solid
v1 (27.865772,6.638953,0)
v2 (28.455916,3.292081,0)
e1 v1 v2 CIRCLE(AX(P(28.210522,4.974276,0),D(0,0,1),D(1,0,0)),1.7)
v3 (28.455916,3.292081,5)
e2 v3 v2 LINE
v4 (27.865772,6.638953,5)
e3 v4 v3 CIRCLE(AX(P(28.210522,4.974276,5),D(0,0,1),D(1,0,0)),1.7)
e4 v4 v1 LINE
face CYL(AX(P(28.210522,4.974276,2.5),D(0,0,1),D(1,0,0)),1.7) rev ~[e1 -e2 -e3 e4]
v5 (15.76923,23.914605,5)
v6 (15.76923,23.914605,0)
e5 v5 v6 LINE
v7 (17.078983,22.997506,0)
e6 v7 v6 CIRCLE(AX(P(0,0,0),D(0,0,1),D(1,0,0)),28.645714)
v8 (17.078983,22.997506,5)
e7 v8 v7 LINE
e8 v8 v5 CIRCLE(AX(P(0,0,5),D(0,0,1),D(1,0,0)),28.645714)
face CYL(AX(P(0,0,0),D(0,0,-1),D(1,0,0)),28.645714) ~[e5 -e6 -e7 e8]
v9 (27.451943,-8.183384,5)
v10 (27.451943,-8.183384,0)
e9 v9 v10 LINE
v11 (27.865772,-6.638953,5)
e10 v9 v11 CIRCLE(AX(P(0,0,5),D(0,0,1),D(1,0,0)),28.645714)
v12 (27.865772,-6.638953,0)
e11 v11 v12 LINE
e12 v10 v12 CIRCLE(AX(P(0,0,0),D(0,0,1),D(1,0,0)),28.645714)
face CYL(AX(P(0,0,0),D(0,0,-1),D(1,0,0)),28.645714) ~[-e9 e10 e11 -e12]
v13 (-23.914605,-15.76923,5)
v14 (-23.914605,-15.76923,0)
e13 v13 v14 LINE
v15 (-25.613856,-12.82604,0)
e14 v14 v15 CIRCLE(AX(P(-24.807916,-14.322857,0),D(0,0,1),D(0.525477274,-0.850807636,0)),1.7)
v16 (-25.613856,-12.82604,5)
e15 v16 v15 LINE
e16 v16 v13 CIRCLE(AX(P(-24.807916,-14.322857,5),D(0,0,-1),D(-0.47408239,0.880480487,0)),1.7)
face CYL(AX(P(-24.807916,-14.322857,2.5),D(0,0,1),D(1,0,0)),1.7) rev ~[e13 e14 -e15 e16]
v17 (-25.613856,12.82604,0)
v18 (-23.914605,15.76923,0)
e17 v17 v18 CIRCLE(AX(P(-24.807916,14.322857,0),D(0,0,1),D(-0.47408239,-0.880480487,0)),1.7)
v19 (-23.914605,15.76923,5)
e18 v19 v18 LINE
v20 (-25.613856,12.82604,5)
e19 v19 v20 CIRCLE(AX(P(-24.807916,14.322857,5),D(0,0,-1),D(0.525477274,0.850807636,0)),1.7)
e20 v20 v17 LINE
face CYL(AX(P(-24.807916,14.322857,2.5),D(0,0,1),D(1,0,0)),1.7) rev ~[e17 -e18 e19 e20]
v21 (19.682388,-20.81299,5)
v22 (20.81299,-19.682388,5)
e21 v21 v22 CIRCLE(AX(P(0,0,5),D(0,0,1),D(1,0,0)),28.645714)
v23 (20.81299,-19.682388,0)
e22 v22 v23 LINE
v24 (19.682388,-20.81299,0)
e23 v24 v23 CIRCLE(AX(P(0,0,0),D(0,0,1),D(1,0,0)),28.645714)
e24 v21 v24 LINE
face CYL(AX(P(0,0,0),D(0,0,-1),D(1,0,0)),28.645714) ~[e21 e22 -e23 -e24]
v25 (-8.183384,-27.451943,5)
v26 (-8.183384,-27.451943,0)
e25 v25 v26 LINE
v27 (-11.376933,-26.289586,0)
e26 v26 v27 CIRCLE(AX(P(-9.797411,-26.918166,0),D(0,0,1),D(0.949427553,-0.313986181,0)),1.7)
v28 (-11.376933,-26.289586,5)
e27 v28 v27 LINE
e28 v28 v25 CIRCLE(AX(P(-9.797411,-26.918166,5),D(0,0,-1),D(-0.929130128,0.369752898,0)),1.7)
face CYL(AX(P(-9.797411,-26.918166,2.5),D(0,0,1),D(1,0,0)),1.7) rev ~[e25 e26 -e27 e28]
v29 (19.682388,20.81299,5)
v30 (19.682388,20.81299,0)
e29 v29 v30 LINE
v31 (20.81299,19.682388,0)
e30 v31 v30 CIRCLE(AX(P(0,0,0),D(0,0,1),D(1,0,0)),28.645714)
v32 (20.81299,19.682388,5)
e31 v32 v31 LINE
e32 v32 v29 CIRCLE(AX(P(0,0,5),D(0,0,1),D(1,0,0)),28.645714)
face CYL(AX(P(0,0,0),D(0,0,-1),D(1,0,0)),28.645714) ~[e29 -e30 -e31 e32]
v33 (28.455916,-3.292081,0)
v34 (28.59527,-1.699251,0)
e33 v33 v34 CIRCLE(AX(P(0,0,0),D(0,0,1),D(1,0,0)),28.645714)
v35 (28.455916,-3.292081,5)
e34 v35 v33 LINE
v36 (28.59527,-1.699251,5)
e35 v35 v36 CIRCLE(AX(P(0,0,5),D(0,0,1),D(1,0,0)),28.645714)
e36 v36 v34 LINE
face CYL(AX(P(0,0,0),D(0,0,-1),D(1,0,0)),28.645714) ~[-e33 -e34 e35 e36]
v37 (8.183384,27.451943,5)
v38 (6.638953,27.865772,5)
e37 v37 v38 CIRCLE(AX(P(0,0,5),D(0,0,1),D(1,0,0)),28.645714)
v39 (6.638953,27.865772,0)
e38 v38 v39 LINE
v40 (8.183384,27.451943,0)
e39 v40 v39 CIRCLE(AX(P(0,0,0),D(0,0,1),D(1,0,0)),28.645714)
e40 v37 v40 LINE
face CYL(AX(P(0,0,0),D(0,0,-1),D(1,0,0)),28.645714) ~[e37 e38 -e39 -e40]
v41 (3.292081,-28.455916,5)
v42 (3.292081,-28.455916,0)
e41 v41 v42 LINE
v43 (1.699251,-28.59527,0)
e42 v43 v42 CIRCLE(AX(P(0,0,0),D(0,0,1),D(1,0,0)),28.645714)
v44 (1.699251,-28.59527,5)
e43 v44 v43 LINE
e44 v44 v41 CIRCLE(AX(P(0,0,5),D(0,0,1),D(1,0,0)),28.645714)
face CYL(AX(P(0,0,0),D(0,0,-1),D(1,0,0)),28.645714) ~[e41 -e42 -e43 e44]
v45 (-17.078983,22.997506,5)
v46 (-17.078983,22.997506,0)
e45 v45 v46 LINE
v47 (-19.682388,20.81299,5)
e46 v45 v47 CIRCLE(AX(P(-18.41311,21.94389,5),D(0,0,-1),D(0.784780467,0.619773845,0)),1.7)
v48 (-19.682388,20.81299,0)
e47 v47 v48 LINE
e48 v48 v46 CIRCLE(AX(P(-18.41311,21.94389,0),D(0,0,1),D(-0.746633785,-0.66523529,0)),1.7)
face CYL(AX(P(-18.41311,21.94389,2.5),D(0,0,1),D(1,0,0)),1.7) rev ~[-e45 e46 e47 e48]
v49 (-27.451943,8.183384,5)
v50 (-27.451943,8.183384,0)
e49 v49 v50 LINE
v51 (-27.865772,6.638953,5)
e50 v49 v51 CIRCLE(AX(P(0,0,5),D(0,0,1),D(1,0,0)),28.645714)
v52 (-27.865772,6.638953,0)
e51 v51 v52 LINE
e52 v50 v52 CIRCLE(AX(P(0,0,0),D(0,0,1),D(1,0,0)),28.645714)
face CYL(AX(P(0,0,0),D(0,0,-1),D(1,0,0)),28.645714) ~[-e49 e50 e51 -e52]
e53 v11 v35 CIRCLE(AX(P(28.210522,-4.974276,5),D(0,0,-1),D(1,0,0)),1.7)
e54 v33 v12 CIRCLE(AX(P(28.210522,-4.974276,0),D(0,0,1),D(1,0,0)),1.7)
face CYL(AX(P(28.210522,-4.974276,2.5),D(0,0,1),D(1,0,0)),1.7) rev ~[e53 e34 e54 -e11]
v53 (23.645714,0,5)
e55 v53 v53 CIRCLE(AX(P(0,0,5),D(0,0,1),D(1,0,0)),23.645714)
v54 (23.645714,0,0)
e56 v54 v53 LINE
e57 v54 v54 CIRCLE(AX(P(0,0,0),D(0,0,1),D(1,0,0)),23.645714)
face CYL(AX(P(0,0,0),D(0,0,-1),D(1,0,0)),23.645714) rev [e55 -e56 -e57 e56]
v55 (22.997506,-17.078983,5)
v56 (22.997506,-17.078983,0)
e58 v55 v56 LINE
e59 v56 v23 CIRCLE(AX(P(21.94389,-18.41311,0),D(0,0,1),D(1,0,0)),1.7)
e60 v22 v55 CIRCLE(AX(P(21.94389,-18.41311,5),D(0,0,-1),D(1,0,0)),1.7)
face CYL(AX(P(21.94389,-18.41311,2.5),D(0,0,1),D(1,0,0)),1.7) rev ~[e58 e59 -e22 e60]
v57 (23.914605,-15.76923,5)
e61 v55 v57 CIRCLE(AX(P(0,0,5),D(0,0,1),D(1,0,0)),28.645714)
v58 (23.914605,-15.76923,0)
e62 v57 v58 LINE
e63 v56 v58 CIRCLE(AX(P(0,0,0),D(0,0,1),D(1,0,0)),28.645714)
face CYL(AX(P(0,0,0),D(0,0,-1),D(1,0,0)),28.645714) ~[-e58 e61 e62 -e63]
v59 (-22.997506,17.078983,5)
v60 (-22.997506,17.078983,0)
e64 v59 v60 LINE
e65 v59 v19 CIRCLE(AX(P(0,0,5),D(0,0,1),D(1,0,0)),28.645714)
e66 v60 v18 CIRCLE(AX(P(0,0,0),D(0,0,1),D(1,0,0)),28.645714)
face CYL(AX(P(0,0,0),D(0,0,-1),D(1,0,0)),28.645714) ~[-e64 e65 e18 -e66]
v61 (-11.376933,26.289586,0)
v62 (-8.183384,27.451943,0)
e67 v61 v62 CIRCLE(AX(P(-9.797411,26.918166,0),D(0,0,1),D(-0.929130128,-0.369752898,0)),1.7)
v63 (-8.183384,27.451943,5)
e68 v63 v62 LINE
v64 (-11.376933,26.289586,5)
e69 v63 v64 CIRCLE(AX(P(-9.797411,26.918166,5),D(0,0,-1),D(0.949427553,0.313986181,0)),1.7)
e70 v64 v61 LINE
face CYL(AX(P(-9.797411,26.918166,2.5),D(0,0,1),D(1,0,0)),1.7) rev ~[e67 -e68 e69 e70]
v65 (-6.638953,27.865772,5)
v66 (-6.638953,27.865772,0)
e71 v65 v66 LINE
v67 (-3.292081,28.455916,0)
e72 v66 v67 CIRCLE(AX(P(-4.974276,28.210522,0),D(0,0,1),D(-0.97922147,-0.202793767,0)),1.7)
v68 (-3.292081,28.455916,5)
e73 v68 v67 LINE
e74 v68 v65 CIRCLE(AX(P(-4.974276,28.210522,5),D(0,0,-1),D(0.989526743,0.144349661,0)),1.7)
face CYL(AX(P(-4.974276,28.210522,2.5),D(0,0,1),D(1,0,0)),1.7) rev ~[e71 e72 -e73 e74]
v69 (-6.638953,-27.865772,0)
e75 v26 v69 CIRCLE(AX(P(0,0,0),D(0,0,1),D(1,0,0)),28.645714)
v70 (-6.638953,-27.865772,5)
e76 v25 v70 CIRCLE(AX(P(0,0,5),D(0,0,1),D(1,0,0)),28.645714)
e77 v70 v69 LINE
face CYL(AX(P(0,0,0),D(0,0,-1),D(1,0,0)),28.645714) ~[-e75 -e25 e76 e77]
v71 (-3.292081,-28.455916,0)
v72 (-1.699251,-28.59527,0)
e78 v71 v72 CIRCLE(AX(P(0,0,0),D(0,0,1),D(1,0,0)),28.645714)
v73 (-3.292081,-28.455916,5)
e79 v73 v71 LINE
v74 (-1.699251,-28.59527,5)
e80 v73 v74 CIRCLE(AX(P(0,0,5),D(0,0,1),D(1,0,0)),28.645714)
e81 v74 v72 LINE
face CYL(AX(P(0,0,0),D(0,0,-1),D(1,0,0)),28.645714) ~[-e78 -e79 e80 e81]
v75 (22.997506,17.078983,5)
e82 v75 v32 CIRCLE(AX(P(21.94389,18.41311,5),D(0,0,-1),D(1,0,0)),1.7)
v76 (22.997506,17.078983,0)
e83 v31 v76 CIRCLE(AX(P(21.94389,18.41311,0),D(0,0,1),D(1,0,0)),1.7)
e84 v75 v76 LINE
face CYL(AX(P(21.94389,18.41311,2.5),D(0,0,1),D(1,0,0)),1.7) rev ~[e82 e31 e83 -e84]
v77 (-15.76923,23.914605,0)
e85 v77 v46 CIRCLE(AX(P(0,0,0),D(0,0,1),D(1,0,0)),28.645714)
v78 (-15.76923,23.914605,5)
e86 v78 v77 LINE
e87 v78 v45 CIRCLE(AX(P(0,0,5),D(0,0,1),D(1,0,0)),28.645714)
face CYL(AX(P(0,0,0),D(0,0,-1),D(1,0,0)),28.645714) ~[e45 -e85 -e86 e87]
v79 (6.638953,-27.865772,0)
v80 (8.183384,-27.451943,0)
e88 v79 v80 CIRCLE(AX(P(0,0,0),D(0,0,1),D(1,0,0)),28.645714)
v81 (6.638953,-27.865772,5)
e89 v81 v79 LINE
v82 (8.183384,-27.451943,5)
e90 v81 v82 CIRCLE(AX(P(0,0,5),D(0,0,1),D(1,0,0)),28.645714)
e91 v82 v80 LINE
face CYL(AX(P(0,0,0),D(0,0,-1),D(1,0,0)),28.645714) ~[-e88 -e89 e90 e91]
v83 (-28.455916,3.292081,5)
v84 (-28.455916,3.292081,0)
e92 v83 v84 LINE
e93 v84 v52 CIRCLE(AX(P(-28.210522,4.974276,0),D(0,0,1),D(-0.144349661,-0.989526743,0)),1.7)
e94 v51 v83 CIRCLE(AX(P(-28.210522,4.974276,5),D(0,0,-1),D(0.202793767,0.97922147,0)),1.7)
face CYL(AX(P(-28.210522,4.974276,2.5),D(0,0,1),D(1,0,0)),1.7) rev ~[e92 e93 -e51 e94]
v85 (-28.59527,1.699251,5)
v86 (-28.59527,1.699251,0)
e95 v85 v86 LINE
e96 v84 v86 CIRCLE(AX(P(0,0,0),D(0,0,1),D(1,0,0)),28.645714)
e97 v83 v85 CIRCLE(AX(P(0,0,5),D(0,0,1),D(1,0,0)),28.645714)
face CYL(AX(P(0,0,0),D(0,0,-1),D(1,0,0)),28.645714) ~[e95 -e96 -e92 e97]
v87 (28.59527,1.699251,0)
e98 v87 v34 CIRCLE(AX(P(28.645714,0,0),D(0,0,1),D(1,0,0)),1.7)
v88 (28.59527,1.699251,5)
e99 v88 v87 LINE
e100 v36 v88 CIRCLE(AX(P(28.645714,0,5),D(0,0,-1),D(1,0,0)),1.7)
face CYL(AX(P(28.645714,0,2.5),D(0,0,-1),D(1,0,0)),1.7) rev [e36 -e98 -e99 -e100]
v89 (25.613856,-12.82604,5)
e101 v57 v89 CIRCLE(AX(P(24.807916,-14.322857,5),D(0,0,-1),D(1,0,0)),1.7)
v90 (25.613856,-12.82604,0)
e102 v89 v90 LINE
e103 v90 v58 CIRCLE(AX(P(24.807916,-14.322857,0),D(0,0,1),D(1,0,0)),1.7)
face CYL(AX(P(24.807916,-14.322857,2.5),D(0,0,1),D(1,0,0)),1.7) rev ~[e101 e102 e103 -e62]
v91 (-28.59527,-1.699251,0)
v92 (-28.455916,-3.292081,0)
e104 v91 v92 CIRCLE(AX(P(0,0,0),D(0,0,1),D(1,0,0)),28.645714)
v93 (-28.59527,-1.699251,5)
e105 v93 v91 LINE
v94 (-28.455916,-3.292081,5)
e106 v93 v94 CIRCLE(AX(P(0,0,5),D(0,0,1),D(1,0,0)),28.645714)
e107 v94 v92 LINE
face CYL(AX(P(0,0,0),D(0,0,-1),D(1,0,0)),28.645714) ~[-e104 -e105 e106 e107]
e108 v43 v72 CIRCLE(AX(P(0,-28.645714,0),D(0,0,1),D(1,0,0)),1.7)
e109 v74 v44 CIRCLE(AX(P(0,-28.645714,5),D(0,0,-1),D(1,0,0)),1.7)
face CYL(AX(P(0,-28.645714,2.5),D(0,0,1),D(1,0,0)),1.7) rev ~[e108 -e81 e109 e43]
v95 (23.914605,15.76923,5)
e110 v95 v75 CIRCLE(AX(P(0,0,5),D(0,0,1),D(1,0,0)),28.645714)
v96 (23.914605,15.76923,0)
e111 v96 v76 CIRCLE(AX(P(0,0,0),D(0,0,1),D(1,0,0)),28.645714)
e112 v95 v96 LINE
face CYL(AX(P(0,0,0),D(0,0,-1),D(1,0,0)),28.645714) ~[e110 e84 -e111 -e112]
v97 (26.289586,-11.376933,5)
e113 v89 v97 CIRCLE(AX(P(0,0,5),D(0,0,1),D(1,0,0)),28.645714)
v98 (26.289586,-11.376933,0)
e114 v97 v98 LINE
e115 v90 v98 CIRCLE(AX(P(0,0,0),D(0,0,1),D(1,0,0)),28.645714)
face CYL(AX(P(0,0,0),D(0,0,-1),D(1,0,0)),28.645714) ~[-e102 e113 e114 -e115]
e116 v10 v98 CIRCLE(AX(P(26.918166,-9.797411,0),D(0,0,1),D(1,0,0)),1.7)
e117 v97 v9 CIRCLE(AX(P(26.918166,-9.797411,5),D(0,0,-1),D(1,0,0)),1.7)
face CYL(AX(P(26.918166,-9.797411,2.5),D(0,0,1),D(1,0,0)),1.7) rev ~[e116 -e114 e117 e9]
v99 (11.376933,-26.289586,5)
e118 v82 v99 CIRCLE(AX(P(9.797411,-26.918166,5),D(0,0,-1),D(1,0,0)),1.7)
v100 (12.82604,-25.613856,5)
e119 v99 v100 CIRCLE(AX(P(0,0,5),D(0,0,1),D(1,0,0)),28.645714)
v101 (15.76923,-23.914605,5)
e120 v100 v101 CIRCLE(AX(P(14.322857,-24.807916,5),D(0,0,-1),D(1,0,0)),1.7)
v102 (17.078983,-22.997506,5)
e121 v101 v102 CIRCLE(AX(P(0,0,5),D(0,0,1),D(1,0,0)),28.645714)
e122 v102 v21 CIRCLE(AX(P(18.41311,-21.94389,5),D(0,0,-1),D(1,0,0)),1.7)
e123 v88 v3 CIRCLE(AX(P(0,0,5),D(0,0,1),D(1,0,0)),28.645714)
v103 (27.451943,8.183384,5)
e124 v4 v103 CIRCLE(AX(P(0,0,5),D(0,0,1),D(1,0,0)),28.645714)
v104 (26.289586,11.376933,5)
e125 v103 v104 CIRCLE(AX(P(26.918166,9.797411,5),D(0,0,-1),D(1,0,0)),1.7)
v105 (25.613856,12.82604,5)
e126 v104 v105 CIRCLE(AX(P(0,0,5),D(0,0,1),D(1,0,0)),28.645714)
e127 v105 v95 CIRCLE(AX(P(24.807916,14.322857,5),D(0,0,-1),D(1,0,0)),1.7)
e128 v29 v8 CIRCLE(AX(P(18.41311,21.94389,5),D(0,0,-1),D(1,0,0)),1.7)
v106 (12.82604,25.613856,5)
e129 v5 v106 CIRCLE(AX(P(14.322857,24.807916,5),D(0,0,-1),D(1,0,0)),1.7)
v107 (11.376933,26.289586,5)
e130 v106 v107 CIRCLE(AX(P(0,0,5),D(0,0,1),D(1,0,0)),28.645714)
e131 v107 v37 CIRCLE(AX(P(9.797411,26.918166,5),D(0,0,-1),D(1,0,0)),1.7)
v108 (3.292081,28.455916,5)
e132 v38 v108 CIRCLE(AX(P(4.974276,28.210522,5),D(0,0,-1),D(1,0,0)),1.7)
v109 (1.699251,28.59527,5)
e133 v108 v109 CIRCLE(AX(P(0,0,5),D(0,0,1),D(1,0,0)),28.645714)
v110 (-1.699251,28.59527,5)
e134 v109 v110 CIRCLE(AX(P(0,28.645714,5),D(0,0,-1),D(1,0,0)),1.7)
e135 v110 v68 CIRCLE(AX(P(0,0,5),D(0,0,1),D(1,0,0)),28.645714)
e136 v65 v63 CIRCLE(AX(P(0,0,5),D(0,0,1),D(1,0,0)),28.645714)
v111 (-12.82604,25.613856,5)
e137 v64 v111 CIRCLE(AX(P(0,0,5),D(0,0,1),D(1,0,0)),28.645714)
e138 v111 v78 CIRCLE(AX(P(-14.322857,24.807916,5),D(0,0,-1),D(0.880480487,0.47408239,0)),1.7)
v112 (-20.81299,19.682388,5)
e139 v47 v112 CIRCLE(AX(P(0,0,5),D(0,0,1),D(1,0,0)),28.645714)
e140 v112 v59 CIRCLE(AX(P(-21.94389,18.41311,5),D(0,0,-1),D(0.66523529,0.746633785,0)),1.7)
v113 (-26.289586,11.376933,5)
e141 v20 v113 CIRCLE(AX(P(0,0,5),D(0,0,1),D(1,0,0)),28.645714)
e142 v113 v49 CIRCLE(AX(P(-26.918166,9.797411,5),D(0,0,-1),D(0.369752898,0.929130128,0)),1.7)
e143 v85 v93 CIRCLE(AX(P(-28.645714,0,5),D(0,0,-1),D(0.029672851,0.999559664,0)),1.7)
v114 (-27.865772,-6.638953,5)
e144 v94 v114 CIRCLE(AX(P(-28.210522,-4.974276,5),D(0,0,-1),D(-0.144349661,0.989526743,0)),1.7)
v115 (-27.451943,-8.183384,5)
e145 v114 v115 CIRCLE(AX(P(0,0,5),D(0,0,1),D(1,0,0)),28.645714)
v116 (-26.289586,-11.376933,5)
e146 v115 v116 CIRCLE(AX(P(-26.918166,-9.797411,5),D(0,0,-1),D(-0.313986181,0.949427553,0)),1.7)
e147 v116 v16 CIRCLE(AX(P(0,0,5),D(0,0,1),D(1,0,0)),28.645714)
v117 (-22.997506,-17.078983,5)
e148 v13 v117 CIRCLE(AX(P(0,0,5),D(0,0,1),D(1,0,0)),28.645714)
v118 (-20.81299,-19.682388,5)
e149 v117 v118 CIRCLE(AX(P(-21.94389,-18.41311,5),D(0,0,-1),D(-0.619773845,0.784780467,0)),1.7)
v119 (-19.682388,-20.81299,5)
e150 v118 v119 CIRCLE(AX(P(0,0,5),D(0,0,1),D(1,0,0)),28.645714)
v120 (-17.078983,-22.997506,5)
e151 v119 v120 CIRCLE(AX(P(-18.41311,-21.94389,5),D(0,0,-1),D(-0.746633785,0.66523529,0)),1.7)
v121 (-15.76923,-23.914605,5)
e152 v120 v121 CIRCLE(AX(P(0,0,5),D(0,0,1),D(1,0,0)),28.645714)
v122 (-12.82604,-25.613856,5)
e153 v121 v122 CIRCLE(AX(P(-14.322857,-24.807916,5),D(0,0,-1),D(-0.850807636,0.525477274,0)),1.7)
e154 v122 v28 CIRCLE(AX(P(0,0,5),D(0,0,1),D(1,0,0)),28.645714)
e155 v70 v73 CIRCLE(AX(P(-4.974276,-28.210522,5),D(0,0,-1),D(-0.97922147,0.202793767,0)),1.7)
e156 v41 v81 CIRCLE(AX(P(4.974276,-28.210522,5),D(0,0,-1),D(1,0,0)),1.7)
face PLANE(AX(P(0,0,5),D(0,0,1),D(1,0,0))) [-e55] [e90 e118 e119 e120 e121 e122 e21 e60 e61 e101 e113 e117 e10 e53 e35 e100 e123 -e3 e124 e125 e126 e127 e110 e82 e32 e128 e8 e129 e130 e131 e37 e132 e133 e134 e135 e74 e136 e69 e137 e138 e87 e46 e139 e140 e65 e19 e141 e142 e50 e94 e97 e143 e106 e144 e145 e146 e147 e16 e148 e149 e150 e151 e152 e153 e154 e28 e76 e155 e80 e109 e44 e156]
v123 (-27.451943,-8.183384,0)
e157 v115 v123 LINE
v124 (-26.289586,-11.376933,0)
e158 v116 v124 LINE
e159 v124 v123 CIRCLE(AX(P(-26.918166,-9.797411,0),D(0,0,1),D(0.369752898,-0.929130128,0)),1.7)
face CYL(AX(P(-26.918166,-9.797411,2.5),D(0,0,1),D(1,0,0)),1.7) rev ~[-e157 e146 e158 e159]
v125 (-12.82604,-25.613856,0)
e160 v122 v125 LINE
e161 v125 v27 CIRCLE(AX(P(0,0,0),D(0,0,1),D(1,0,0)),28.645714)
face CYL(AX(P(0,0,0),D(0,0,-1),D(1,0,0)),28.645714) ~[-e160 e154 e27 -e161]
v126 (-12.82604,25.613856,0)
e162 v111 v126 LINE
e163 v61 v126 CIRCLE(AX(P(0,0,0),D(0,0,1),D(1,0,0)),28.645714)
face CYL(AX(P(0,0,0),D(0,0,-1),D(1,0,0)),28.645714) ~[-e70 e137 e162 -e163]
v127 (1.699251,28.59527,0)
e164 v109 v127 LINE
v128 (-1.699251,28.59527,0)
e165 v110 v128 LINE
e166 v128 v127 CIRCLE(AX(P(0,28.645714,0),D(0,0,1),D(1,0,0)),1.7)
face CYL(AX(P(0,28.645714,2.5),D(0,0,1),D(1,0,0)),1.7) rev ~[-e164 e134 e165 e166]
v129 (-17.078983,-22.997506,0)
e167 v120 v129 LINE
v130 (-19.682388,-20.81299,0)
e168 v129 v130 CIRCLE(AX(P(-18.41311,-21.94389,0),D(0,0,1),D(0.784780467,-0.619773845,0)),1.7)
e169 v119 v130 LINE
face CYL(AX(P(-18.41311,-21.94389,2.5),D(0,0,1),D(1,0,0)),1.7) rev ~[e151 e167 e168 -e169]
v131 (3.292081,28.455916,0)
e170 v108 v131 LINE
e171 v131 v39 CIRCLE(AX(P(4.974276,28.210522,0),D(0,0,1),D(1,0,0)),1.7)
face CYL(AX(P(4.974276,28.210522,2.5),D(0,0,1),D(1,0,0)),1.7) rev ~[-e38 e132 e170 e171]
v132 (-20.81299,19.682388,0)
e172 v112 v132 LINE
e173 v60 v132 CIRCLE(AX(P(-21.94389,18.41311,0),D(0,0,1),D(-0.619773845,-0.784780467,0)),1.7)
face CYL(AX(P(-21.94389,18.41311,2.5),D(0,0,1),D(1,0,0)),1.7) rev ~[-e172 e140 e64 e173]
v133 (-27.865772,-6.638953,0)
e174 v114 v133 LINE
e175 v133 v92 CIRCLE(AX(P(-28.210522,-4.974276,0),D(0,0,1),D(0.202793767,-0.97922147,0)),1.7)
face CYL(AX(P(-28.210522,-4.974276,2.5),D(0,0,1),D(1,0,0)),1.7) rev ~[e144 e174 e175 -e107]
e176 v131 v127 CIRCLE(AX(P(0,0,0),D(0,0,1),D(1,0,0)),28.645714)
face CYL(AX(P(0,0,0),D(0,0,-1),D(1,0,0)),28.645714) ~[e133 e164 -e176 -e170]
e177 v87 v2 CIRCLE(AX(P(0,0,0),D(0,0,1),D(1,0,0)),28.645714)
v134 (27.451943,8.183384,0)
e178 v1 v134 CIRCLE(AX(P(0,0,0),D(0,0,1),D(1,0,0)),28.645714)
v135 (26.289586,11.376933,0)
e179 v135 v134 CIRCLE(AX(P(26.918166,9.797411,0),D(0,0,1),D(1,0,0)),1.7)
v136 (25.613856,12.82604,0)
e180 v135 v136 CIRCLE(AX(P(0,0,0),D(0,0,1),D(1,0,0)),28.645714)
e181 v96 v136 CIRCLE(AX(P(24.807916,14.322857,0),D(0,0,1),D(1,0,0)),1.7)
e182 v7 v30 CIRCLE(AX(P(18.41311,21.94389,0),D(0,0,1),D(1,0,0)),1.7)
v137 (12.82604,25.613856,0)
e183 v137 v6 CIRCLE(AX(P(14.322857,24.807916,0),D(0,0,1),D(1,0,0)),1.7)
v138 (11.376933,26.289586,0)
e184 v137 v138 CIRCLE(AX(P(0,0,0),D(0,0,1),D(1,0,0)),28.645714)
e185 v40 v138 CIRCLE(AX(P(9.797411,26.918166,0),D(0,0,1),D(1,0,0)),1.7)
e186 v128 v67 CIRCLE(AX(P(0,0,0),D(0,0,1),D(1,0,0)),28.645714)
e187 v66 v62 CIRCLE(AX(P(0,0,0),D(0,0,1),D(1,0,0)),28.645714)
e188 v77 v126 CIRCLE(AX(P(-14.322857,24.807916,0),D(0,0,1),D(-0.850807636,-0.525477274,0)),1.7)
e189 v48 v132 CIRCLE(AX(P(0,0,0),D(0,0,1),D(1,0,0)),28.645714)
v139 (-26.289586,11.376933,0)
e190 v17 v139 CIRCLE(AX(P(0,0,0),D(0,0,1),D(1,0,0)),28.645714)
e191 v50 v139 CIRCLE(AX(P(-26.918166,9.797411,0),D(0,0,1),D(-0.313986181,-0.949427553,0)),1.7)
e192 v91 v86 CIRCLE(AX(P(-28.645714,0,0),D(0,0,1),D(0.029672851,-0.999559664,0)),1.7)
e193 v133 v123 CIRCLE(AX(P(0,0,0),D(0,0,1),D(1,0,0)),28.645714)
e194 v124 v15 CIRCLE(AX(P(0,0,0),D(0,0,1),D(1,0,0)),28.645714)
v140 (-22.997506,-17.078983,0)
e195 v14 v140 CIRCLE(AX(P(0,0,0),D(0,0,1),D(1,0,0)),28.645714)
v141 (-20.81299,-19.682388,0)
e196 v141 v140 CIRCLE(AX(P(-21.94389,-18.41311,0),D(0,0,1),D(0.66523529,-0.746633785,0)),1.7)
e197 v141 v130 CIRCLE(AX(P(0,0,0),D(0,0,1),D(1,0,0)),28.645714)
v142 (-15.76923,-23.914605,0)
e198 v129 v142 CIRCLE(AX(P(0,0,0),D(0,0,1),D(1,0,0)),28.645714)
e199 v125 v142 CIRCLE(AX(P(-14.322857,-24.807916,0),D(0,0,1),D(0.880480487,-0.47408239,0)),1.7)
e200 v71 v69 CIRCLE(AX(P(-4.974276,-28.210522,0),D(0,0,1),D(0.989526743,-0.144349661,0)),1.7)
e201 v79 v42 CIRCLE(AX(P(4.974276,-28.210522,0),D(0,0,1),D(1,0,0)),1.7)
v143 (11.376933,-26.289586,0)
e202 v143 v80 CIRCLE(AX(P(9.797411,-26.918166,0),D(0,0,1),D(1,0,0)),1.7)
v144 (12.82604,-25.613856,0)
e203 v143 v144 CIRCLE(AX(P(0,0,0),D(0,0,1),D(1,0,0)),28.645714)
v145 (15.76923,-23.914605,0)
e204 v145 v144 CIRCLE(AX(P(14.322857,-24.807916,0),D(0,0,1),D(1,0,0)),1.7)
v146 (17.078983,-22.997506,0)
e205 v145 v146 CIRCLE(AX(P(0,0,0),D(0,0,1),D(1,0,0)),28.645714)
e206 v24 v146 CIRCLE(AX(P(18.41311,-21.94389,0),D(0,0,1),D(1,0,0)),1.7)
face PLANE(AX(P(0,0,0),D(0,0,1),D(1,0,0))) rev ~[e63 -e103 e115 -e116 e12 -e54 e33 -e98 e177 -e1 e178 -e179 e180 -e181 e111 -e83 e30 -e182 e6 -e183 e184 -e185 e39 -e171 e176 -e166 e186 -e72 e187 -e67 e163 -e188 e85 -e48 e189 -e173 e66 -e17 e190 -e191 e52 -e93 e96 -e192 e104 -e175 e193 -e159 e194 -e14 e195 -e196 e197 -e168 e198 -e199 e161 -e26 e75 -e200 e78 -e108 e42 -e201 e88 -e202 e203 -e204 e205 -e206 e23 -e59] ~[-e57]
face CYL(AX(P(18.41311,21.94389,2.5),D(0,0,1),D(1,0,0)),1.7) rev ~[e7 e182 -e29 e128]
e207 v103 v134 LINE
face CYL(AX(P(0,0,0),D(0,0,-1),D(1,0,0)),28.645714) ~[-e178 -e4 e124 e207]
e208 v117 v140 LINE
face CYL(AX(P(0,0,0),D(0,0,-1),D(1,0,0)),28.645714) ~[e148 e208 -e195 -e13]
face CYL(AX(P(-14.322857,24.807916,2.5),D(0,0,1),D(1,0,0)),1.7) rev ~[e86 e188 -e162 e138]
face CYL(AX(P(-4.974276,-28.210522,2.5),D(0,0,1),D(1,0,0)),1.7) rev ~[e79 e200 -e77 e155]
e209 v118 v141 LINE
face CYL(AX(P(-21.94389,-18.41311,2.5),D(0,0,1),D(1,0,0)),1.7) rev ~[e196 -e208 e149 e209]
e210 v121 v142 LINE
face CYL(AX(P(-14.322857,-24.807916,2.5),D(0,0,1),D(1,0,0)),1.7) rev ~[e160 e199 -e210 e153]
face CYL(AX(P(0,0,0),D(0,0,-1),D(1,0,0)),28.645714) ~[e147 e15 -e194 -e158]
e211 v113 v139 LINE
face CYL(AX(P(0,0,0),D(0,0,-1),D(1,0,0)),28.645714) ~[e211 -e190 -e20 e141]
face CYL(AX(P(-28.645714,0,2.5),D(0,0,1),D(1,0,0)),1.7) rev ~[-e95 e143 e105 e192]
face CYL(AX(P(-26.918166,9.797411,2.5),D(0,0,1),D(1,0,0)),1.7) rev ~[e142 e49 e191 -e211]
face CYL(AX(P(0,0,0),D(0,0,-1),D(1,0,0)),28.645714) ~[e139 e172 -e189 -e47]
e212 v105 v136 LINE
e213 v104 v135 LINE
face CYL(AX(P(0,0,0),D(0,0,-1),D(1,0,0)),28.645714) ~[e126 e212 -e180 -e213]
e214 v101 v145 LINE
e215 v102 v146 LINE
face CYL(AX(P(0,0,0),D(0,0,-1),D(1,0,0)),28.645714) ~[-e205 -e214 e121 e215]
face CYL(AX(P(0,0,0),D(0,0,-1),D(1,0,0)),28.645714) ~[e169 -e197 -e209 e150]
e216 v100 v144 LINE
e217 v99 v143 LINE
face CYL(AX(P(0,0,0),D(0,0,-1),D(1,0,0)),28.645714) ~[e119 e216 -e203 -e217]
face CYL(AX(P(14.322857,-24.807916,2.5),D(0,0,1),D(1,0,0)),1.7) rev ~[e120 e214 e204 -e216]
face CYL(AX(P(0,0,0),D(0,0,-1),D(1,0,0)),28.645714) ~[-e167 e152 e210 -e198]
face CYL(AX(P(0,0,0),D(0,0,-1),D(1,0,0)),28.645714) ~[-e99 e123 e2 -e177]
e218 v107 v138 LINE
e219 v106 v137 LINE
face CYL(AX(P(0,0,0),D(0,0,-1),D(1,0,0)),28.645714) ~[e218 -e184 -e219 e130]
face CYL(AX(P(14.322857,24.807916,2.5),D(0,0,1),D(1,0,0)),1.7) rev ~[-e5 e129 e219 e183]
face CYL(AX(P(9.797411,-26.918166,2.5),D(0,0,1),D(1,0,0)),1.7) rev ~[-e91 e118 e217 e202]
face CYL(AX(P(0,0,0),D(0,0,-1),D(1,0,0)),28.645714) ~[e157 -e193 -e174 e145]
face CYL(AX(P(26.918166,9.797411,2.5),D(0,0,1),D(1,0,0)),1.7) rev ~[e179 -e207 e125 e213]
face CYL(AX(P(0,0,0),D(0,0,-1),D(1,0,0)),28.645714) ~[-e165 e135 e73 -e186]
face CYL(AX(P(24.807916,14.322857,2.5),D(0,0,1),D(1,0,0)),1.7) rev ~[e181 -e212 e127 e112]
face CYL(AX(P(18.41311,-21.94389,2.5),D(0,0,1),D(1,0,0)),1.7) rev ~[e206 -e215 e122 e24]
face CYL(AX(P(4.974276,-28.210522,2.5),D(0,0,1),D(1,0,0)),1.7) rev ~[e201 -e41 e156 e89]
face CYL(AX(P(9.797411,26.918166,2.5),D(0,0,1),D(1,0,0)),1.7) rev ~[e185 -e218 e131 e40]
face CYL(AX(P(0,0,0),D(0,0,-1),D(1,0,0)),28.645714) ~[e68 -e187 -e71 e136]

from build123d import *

# Parameters (mm, degrees)
SKETCH1_R           = 28.645714286
SKETCH1_R_2         = 23.645714286
BOSS_EXTRUDE1_DEPTH = 5
SKETCH3_R           = 1.7
CUT_EXTRUDE1_DEPTH  = 8


with BuildPart() as part:
    # Sketch1 → Boss-Extrude1 (new body)
    with BuildSketch(Plane.XY):
        Circle(SKETCH1_R)
        Circle(SKETCH1_R_2, mode=Mode.SUBTRACT)
    extrude(amount=BOSS_EXTRUDE1_DEPTH)

    # Sketch3 → Cut-Extrude1 (cut, symmetric)
    with BuildSketch(Plane.XY.offset(2.5)):
        with Locations((28.645714286, 0)):
            Circle(SKETCH3_R)
        with Locations((28.210521519, -4.974276084)):
            Circle(SKETCH3_R)
        with Locations((26.918166331, -9.797411306)):
            Circle(SKETCH3_R)
        with Locations((24.807916281, -14.322857143)):
            Circle(SKETCH3_R)
        with Locations((21.943890248, -18.413110214)):
            Circle(SKETCH3_R)
        with Locations((18.413110214, -21.943890248)):
            Circle(SKETCH3_R)
        with Locations((14.322857143, -24.807916281)):
            Circle(SKETCH3_R)
        with Locations((9.797411306, -26.918166331)):
            Circle(SKETCH3_R)
        with Locations((4.974276084, -28.210521519)):
            Circle(SKETCH3_R)
        with Locations((0, -28.645714286)):
            Circle(SKETCH3_R)
        with Locations((-4.974276084, -28.210521519)):
            Circle(SKETCH3_R)
        with Locations((-9.797411306, -26.918166331)):
            Circle(SKETCH3_R)
        with Locations((-14.322857143, -24.807916281)):
            Circle(SKETCH3_R)
        with Locations((-18.413110214, -21.943890248)):
            Circle(SKETCH3_R)
        with Locations((-21.943890248, -18.413110214)):
            Circle(SKETCH3_R)
        with Locations((-24.807916281, -14.322857143)):
            Circle(SKETCH3_R)
        with Locations((-26.918166331, -9.797411306)):
            Circle(SKETCH3_R)
        with Locations((-28.210521519, -4.974276084)):
            Circle(SKETCH3_R)
        with Locations((-28.645714286, 0)):
            Circle(SKETCH3_R)
        with Locations((-28.210521519, 4.974276084)):
            Circle(SKETCH3_R)
        with Locations((-26.918166331, 9.797411306)):
            Circle(SKETCH3_R)
        with Locations((-24.807916281, 14.322857143)):
            Circle(SKETCH3_R)
        with Locations((-21.943890248, 18.413110214)):
            Circle(SKETCH3_R)
        with Locations((-18.413110214, 21.943890248)):
            Circle(SKETCH3_R)
        with Locations((-14.322857143, 24.807916281)):
            Circle(SKETCH3_R)
        with Locations((-9.797411306, 26.918166331)):
            Circle(SKETCH3_R)
        with Locations((-4.974276084, 28.210521519)):
            Circle(SKETCH3_R)
        with Locations((0, 28.645714286)):
            Circle(SKETCH3_R)
        with Locations((4.974276084, 28.210521519)):
            Circle(SKETCH3_R)
        with Locations((9.797411306, 26.918166331)):
            Circle(SKETCH3_R)
        with Locations((14.322857143, 24.807916281)):
            Circle(SKETCH3_R)
        with Locations((18.413110214, 21.943890248)):
            Circle(SKETCH3_R)
        with Locations((21.943890248, 18.413110214)):
            Circle(SKETCH3_R)
        with Locations((24.807916281, 14.322857143)):
            Circle(SKETCH3_R)
        with Locations((26.918166331, 9.797411306)):
            Circle(SKETCH3_R)
        with Locations((28.210521519, 4.974276084)):
            Circle(SKETCH3_R)
    extrude(amount=CUT_EXTRUDE1_DEPTH, both=True, mode=Mode.SUBTRACT)


solid = part.part
